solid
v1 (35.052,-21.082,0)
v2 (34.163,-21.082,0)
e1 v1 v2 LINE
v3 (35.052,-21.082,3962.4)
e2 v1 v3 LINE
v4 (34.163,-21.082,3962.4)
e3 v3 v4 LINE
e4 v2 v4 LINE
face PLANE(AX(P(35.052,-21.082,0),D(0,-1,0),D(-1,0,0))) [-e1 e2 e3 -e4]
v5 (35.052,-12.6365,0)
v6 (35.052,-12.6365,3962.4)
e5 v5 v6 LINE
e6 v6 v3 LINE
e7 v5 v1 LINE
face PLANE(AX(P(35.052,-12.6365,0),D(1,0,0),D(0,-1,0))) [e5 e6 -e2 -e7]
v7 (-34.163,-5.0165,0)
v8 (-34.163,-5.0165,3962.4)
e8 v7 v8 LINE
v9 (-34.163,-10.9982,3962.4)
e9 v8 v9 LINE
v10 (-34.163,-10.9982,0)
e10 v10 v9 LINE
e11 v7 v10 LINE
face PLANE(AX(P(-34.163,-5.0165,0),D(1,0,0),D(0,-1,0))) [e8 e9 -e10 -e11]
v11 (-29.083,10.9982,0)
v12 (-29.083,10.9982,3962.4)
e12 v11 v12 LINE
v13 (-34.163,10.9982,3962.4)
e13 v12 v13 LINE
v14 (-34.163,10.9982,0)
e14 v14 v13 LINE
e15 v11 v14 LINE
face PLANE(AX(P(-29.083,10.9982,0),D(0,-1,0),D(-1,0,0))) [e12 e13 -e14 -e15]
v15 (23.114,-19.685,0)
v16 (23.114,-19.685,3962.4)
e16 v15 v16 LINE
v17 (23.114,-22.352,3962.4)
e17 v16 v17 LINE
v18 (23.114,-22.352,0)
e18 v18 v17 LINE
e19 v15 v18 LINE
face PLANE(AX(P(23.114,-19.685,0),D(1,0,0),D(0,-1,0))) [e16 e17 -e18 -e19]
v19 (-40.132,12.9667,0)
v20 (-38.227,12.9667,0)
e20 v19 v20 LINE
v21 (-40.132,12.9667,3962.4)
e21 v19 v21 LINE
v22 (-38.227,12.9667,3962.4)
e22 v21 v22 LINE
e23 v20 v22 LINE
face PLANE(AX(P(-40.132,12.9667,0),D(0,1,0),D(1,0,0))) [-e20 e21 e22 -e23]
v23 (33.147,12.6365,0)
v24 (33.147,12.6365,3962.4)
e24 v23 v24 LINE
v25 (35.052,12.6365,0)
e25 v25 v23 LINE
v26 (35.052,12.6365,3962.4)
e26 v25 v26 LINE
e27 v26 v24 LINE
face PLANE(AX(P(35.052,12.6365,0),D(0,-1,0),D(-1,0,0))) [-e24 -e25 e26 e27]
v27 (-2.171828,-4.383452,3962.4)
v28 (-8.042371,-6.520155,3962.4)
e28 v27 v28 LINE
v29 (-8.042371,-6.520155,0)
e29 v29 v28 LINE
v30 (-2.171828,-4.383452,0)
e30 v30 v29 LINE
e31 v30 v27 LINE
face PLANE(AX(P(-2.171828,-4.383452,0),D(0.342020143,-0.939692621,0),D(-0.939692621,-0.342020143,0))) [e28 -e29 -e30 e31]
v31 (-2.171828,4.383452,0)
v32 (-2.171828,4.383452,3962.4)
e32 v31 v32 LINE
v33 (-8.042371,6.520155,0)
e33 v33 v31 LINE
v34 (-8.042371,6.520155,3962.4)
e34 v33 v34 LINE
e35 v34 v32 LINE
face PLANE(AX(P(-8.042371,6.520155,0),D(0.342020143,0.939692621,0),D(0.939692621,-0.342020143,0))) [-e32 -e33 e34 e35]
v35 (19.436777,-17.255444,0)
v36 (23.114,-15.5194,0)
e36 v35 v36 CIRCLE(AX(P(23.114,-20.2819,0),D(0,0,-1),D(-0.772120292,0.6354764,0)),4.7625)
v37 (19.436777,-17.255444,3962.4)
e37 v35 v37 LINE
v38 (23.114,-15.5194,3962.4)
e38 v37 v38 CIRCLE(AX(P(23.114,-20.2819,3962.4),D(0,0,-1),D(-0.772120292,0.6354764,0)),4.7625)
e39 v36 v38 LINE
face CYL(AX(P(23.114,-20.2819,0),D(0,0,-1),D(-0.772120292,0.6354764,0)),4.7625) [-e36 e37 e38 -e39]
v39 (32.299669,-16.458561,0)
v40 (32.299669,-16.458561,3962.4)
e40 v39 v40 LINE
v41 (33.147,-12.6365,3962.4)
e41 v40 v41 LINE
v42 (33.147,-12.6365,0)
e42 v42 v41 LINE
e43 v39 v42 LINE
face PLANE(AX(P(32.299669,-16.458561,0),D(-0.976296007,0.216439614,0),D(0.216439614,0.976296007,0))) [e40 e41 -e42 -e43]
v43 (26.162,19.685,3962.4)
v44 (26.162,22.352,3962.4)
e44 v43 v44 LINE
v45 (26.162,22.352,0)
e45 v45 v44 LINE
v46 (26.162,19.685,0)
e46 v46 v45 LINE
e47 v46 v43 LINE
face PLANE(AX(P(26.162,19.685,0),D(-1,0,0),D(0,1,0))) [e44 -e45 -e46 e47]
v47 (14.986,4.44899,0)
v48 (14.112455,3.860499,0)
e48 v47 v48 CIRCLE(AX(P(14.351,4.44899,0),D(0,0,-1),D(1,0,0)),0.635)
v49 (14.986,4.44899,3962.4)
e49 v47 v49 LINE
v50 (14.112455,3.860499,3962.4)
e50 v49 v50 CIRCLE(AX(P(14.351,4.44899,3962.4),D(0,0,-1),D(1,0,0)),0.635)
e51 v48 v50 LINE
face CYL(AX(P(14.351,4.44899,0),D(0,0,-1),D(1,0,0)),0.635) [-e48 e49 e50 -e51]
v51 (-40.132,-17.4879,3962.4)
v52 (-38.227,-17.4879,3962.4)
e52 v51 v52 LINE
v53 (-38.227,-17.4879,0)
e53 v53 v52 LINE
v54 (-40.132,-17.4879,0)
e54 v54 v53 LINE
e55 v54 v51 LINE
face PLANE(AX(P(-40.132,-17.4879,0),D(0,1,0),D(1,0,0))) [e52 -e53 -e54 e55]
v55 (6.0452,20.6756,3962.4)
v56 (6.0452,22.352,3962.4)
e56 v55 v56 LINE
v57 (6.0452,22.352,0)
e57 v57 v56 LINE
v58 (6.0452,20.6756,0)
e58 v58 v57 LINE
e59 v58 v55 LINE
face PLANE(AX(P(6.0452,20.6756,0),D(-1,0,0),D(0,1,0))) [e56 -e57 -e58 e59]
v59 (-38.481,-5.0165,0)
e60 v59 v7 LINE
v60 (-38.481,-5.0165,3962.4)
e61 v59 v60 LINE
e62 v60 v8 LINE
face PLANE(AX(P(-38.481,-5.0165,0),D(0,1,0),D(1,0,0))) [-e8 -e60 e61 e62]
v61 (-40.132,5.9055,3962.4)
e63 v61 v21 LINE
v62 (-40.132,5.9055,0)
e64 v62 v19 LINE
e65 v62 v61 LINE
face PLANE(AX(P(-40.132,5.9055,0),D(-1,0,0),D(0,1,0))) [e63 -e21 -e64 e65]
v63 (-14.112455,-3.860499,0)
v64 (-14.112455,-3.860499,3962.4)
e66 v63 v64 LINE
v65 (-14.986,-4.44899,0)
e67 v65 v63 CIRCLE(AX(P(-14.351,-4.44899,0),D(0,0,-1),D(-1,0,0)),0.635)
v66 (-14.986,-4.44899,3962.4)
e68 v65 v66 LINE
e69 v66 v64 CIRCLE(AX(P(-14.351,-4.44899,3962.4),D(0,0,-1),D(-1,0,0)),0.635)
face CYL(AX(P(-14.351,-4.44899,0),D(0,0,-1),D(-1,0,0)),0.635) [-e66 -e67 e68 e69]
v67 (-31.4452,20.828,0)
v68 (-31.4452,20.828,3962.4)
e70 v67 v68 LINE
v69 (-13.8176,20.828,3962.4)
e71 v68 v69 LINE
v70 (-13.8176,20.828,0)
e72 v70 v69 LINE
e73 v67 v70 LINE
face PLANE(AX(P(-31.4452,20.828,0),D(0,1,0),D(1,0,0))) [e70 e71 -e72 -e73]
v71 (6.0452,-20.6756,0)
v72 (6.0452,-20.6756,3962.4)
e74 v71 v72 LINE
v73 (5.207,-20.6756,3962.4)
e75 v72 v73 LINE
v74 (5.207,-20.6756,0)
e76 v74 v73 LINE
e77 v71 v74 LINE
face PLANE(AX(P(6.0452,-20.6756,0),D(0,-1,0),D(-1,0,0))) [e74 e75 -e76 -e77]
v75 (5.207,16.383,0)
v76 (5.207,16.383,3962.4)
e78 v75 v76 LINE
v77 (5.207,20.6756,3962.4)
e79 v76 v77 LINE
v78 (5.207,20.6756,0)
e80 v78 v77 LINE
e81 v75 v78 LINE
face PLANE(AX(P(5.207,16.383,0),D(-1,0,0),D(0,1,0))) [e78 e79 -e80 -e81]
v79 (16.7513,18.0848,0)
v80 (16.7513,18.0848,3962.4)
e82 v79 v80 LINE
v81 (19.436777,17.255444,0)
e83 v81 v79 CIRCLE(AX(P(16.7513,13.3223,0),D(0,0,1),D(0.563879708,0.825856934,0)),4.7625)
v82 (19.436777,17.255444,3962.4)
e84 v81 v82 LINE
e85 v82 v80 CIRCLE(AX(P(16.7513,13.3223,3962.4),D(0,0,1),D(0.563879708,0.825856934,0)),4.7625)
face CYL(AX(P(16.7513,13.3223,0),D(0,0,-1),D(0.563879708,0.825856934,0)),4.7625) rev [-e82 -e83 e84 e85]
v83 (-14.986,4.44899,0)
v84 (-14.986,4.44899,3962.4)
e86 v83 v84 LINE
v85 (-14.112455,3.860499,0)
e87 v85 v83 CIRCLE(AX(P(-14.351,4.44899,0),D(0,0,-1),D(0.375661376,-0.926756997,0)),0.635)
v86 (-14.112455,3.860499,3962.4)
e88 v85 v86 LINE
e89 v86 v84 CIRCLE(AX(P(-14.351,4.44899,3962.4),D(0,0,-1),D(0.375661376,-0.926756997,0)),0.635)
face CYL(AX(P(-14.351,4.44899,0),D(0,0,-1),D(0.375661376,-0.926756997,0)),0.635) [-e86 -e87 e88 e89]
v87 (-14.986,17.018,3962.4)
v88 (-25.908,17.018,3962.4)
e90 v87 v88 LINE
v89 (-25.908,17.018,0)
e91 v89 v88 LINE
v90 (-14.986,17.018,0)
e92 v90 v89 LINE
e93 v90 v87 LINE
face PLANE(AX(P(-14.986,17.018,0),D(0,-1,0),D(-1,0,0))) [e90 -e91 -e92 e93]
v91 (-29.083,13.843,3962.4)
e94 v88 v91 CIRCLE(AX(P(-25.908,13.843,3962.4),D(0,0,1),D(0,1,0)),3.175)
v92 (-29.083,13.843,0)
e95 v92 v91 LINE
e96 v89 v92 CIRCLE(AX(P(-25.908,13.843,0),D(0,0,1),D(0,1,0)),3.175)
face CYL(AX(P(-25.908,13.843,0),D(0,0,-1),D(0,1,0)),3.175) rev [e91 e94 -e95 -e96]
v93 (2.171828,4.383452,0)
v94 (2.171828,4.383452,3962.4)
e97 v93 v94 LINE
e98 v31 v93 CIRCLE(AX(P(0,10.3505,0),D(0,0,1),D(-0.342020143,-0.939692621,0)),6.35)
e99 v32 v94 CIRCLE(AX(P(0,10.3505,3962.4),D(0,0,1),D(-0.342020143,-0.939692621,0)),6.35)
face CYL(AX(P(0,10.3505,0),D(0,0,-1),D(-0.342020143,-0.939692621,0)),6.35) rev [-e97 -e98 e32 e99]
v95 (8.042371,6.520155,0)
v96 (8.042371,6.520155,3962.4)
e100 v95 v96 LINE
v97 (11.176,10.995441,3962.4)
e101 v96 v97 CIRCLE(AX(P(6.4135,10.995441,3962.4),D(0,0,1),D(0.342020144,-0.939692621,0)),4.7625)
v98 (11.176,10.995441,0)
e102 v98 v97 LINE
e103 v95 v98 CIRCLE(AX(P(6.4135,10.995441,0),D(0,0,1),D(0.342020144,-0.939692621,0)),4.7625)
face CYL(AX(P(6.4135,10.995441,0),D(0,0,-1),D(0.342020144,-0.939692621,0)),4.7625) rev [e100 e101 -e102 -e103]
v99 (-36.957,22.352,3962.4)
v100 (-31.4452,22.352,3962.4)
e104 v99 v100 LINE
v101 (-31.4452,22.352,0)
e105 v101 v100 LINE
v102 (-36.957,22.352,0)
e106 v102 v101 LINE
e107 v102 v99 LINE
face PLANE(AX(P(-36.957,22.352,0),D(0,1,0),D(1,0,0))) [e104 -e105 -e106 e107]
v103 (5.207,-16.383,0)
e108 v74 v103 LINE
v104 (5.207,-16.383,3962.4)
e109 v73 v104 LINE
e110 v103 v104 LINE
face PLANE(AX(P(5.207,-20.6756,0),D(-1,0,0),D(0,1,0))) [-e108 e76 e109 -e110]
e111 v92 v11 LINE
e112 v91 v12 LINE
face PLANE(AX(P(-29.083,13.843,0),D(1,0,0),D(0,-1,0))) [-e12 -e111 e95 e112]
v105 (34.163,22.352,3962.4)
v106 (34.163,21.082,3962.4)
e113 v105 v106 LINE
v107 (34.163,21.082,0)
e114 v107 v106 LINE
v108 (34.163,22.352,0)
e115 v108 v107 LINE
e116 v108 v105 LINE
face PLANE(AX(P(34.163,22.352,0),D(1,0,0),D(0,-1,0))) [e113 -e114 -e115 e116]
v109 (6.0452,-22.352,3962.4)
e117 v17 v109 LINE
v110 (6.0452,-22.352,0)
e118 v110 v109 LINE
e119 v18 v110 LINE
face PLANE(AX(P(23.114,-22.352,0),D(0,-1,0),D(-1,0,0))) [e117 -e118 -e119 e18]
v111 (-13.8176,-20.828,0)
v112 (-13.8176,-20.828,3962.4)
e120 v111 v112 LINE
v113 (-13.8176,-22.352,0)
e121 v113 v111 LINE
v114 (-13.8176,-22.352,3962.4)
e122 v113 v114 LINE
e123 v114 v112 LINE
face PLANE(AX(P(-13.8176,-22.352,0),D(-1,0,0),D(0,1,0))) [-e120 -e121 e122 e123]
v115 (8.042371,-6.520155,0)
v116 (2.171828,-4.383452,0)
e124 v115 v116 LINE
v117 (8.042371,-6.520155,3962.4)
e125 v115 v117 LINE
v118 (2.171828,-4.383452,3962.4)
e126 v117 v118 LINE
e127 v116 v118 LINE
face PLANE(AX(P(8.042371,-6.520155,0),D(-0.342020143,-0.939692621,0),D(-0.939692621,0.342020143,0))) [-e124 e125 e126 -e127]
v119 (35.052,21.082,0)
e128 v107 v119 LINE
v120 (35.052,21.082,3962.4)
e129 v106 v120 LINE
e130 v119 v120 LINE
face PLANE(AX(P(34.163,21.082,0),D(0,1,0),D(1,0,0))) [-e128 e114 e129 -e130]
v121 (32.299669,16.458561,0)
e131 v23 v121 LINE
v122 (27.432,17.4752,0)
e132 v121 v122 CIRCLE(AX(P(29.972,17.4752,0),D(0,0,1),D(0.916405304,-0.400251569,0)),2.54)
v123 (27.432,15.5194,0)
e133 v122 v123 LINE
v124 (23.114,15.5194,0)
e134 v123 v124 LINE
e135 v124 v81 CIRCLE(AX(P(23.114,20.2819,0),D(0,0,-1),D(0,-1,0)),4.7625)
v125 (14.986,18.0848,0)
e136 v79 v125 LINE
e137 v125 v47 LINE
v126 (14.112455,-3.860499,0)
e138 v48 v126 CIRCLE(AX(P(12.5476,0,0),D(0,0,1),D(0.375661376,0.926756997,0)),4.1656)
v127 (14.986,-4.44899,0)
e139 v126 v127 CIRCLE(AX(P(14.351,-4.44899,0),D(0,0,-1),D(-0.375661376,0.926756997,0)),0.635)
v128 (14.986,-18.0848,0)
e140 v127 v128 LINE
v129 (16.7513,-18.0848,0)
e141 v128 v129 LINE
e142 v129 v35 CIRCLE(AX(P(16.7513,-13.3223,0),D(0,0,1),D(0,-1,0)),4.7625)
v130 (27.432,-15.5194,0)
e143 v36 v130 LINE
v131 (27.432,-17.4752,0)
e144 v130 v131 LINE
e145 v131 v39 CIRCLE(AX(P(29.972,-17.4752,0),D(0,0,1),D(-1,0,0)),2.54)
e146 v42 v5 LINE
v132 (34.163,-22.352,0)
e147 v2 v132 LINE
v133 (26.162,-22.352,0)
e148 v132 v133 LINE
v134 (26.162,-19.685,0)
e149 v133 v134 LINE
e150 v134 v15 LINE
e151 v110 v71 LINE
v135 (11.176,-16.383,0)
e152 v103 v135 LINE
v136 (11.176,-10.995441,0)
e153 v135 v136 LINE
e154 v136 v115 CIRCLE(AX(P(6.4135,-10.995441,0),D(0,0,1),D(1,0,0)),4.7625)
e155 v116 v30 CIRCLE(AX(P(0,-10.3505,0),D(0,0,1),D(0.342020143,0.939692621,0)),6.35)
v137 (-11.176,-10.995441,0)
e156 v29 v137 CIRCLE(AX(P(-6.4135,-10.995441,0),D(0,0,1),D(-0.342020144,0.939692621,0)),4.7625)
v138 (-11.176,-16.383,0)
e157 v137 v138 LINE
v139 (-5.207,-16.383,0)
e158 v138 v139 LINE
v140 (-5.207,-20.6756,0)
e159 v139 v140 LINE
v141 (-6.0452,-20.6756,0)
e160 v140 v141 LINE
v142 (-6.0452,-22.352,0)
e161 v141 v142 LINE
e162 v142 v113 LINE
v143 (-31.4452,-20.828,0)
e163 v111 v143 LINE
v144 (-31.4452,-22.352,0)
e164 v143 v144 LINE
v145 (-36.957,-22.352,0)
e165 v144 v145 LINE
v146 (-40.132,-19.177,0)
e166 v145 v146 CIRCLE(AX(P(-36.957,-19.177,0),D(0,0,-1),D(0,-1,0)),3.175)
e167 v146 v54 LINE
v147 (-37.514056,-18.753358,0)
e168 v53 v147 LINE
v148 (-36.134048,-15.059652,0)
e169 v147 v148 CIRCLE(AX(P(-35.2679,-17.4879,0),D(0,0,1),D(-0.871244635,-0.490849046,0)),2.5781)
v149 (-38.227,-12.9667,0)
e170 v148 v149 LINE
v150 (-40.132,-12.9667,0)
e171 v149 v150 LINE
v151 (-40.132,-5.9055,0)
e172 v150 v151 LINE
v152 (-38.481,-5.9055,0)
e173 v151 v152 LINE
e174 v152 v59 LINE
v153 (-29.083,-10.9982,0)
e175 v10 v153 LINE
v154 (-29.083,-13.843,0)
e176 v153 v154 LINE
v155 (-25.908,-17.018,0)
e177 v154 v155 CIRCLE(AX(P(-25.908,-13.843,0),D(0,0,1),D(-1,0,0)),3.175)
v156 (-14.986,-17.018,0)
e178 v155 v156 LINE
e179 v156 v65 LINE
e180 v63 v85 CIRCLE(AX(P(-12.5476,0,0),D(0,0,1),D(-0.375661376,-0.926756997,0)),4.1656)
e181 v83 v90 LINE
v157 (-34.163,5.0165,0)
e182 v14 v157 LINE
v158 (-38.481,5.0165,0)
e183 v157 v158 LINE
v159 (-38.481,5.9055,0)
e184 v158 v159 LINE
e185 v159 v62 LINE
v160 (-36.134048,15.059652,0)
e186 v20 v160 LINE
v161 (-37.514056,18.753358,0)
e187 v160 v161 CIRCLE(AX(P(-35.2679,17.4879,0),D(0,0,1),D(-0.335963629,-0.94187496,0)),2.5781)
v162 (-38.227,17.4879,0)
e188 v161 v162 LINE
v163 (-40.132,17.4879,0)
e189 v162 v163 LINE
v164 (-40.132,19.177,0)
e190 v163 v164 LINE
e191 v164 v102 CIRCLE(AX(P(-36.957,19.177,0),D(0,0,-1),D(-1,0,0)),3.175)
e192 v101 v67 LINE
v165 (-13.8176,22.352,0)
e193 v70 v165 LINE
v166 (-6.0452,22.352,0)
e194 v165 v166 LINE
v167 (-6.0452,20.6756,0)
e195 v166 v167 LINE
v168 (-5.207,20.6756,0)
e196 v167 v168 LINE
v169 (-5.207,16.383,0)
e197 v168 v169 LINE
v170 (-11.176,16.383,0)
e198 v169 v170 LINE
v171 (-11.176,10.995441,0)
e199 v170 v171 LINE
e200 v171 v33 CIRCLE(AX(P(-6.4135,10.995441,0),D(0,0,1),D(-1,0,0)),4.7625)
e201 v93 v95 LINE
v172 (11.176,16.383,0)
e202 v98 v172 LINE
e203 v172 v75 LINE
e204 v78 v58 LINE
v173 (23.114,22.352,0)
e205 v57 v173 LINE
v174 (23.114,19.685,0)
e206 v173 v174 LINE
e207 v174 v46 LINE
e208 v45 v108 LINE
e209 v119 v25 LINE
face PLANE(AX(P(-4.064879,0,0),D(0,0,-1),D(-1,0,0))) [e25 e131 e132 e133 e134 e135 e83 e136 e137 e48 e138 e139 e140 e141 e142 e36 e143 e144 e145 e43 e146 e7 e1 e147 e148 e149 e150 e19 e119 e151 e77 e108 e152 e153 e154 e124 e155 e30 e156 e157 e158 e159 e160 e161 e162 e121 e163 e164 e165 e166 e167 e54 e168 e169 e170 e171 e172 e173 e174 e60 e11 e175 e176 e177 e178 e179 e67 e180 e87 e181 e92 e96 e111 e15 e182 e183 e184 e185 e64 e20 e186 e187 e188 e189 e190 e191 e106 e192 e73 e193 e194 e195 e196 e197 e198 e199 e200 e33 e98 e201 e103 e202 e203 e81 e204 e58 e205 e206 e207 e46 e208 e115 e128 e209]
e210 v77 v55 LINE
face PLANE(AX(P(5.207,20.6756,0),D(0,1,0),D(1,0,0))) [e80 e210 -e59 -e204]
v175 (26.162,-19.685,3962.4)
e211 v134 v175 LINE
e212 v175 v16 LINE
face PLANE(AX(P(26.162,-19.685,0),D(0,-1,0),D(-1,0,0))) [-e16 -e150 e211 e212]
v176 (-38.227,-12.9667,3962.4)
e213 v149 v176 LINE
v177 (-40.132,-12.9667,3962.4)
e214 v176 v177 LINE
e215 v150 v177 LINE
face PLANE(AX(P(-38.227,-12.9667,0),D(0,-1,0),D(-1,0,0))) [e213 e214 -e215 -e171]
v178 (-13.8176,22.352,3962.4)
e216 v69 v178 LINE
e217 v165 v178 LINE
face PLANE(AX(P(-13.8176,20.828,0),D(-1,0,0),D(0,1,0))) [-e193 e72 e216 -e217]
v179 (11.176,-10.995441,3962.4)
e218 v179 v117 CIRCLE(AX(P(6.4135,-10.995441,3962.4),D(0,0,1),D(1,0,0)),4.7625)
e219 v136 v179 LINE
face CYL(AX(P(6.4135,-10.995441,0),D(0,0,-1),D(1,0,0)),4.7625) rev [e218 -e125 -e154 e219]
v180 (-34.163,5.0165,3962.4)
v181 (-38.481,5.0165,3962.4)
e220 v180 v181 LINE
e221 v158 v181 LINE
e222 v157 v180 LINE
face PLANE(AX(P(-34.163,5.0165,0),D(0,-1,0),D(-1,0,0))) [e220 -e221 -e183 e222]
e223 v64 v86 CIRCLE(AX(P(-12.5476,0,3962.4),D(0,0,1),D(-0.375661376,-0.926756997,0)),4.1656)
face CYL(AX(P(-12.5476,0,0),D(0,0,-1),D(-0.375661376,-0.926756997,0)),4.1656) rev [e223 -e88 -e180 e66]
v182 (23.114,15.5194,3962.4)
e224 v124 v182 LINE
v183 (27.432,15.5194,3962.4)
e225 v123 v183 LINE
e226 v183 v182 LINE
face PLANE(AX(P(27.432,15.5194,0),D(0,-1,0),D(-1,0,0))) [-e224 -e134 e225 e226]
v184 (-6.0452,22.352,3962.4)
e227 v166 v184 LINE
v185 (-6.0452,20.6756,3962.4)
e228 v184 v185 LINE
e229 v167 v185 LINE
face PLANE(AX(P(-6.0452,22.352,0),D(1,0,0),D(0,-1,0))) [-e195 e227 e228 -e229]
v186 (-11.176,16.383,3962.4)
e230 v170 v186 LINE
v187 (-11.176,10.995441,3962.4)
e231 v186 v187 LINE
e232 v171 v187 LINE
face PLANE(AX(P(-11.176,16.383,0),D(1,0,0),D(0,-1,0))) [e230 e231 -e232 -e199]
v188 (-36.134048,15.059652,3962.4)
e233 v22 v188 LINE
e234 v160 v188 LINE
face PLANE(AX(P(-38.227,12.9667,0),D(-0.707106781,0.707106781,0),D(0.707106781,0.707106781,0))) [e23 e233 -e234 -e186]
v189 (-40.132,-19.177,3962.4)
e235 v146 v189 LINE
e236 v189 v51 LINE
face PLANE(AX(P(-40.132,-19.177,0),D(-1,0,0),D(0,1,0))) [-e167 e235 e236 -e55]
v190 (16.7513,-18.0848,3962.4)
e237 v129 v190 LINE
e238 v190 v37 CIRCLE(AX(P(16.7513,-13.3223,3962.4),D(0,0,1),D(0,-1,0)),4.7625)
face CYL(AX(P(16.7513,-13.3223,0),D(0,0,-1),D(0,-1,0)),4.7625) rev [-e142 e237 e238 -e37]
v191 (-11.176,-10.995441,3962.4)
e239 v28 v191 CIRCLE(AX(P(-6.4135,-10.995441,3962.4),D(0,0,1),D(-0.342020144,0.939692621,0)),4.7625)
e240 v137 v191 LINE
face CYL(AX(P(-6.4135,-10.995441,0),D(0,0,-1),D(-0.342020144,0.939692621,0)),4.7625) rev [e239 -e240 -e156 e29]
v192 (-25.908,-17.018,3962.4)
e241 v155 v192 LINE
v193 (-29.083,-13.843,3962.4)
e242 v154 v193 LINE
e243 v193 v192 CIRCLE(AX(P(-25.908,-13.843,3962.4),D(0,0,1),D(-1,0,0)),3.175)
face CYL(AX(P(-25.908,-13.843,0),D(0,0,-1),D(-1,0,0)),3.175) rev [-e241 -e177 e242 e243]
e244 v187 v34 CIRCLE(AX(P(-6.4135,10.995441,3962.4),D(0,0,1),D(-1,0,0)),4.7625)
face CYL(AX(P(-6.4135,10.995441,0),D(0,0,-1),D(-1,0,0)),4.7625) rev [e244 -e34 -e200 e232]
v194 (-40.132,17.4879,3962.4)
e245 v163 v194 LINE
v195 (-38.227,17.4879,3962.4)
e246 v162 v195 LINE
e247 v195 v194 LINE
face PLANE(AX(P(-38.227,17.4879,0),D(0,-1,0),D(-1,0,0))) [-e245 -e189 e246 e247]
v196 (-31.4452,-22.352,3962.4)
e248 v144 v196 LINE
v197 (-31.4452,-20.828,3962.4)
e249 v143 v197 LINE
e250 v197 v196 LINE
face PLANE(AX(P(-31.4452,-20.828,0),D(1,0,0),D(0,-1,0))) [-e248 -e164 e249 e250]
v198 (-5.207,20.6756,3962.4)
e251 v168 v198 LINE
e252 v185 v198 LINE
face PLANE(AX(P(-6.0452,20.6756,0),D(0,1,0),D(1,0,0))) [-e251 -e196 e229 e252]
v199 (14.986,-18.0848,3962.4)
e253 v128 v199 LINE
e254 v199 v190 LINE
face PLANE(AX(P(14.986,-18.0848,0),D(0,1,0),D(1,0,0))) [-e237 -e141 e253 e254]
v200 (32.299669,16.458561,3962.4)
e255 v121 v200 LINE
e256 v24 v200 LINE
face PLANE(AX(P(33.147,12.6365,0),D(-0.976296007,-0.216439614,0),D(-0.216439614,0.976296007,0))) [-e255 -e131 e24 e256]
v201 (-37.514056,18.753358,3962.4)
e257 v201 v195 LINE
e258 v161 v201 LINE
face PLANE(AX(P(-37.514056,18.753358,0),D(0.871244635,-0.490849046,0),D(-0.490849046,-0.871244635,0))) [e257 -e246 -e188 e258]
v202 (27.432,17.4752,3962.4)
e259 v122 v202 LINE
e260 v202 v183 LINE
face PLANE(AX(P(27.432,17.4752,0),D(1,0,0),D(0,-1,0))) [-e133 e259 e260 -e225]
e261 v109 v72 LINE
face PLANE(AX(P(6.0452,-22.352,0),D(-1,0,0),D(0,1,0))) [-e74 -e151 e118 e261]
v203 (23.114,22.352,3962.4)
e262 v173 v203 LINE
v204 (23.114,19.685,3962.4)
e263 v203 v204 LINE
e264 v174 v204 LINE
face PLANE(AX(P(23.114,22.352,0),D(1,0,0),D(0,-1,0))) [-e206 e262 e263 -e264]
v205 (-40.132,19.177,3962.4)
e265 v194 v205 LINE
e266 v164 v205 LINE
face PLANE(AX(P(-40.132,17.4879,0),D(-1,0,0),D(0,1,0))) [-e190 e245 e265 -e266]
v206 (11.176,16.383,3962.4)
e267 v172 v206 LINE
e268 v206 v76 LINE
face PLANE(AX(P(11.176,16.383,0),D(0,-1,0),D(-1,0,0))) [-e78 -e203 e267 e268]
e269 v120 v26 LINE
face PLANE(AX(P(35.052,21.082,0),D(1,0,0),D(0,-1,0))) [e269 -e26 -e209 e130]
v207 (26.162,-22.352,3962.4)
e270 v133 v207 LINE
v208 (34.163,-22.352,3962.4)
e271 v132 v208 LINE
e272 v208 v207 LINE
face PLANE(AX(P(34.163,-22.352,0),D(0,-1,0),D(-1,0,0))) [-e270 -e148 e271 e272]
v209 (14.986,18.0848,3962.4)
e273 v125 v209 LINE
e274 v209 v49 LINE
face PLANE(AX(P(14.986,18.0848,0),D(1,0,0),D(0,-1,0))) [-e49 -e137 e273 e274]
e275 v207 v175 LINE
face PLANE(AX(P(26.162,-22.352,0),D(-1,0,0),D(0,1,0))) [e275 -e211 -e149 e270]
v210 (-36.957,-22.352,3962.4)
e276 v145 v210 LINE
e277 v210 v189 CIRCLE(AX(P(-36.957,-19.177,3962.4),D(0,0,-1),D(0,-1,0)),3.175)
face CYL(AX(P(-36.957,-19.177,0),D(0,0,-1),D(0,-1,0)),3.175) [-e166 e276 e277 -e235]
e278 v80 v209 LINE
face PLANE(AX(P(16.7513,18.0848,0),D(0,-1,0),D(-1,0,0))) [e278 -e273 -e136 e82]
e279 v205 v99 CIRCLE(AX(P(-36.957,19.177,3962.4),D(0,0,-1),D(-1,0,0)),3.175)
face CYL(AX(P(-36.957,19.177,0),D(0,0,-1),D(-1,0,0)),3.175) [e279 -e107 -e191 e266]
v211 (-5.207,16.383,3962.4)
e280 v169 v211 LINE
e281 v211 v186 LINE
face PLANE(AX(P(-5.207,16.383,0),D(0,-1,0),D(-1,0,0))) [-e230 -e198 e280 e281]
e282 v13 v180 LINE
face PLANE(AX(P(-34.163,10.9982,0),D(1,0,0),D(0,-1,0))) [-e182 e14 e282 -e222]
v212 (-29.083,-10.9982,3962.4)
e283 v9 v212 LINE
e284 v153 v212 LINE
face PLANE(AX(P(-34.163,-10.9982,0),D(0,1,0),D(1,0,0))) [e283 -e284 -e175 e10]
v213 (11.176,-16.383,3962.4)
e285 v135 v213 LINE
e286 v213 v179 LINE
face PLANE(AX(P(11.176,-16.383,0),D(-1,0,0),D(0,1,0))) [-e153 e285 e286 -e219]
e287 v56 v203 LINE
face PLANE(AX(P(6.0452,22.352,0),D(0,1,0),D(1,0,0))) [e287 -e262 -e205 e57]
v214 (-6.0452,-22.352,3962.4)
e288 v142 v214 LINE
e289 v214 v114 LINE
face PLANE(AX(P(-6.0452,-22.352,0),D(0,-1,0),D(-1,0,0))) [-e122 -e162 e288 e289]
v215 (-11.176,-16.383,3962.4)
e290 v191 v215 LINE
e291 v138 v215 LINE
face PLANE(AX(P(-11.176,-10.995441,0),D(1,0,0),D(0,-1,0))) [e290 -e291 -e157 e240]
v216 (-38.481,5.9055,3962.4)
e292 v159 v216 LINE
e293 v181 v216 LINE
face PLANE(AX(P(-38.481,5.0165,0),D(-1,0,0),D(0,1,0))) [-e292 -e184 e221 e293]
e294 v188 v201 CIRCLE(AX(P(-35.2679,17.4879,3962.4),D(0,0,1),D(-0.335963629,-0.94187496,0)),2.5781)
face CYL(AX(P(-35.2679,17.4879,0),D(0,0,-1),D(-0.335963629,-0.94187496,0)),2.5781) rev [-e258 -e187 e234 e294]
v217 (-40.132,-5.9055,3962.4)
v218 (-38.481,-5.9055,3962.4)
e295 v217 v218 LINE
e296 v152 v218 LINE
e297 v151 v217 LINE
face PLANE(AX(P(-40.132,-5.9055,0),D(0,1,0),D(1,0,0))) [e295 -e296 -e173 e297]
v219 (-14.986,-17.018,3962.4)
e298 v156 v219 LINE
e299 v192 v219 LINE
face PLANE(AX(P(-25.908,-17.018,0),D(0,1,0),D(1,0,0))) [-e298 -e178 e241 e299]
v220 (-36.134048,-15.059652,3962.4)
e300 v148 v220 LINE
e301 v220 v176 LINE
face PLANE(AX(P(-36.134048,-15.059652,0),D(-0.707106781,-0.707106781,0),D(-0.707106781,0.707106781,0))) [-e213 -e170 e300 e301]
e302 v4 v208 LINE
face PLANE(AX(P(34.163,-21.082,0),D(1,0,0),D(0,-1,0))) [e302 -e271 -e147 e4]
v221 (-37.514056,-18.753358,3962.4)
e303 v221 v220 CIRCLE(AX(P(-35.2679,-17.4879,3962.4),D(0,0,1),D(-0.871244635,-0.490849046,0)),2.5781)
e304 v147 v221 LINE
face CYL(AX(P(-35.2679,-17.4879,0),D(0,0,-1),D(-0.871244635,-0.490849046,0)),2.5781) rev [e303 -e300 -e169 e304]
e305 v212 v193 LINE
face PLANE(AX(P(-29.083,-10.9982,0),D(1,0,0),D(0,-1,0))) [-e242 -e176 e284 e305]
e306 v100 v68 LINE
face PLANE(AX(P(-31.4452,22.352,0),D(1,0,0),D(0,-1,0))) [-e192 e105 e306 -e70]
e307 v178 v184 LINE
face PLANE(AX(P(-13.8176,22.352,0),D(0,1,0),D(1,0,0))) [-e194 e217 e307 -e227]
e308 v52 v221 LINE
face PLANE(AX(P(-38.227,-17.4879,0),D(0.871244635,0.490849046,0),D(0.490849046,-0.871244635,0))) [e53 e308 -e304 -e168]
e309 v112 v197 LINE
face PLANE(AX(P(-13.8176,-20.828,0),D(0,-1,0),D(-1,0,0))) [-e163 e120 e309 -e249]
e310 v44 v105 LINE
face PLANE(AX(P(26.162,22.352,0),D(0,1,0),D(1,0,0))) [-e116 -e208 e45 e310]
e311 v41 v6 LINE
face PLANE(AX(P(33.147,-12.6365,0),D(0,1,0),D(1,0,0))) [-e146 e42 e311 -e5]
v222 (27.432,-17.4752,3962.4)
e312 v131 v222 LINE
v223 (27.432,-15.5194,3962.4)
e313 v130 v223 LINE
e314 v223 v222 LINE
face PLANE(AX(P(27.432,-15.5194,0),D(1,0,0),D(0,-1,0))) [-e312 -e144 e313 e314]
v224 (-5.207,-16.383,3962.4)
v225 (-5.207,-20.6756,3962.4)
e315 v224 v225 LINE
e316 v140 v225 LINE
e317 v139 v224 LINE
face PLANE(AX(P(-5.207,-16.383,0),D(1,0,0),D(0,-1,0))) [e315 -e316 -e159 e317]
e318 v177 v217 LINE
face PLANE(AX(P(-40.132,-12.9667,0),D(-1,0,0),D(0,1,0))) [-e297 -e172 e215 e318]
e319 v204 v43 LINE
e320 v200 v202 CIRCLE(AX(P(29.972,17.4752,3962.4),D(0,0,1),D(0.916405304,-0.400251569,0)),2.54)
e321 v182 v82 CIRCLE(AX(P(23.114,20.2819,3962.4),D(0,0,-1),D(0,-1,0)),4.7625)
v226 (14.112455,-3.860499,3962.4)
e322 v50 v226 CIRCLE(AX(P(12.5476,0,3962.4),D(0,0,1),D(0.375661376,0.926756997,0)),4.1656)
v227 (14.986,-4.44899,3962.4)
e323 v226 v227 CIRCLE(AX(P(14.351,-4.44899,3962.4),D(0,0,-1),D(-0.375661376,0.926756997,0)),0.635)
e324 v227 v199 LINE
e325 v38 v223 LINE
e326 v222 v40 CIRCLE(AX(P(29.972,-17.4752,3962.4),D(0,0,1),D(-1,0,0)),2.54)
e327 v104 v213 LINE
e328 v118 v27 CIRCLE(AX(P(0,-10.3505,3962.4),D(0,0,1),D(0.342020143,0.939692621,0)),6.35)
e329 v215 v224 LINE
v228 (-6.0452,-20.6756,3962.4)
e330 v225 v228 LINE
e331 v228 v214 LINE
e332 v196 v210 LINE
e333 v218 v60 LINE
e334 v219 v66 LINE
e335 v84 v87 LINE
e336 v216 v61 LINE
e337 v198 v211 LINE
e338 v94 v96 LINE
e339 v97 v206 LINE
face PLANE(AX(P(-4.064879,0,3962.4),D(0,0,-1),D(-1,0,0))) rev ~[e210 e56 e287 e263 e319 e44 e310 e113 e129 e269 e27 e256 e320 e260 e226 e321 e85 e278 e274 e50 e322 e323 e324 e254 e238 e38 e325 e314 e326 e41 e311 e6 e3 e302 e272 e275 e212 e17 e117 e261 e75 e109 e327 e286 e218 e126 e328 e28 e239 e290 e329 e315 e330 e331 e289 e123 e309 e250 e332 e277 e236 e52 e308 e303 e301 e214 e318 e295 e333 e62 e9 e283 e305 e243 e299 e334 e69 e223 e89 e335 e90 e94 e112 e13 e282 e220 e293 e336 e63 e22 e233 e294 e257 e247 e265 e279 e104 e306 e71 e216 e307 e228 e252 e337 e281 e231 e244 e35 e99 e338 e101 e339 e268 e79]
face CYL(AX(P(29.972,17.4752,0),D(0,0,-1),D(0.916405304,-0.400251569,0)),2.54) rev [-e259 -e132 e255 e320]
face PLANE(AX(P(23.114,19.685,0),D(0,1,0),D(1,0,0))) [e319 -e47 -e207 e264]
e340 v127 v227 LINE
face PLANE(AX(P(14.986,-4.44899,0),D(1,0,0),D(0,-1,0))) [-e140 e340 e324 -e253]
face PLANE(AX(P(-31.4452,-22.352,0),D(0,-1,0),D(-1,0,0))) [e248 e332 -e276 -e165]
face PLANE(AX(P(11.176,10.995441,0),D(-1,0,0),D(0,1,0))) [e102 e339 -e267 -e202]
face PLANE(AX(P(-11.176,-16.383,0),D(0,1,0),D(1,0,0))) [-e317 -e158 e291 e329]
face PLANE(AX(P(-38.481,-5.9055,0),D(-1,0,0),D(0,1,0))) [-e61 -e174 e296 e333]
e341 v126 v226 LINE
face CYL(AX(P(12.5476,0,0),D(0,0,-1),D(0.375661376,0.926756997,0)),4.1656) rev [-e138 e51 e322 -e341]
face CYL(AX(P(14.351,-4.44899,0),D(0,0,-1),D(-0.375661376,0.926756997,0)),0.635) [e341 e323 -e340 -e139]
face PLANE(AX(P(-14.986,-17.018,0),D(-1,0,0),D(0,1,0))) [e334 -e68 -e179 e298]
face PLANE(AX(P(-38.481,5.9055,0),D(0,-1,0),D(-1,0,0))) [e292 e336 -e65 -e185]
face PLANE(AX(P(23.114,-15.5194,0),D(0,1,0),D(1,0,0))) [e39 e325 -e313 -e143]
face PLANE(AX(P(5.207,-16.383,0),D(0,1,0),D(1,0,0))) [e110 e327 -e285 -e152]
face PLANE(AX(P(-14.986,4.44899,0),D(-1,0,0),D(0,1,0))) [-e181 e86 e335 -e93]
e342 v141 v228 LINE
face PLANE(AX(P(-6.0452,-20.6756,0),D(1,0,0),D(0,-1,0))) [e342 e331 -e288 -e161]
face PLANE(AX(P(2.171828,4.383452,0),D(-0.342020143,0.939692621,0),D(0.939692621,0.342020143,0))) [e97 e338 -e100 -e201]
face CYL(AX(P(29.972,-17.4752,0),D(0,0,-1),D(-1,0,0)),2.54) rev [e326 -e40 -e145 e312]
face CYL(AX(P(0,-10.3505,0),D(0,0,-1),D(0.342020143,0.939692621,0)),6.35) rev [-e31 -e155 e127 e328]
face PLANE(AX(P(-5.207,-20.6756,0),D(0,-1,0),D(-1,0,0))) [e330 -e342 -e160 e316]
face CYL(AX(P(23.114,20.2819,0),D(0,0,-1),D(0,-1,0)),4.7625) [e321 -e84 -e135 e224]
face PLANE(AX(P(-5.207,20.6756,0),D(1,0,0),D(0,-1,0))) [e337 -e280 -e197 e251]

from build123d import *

# Parameters (mm, degrees)
EXTRUDE1_DEPTH = 3962.4


with BuildPart() as part:
    # Sketch1 → Extrude1 (new body)
    with BuildSketch(Plane.XY):
        with BuildLine():
            Line((-8.042370933, 6.520154777), (-2.17182791, 4.383451858))
            ThreePointArc((-2.17182791, 4.383451858), (0, 4.0005), (2.17182791, 4.383451858))
            Line((2.17182791, 4.383451858), (8.042370933, 6.520154777))
            ThreePointArc((8.042370933, 6.520154777), (10.314711611, 8.263783106), (11.176, 10.995440884))
            Line((11.176, 10.995440884), (11.176, 16.383))
            Line((11.176, 16.383), (5.207, 16.383))
            Line((5.207, 16.383), (5.207, 20.6756))
            Line((5.207, 20.6756), (6.0452, 20.6756))
            Line((6.0452, 20.6756), (6.0452, 22.352))
            Line((6.0452, 22.352), (23.114, 22.352))
            Line((23.114, 22.352), (23.114, 19.685))
            Line((23.114, 19.685), (26.162, 19.685))
            Line((26.162, 19.685), (26.162, 22.352))
            Line((26.162, 22.352), (34.163, 22.352))
            Line((34.163, 22.352), (34.163, 21.082))
            Line((34.163, 21.082), (35.052, 21.082))
            Line((35.052, 21.082), (35.052, 12.6365))
            Line((35.052, 12.6365), (33.147, 12.6365))
            Line((33.147, 12.6365), (32.299669473, 16.458561015))
            ThreePointArc((32.299669473, 16.458561015), (30.491287752, 19.961550786), (27.432, 17.4752))
            Line((27.432, 17.4752), (27.432, 15.5194))
            Line((27.432, 15.5194), (23.114, 15.5194))
            ThreePointArc((23.114, 15.5194), (21.080787287, 15.97522468), (19.436777108, 17.255443647))
            ThreePointArc((19.436777108, 17.255443647), (18.156613066, 17.872739697), (16.7513, 18.0848))
            Line((16.7513, 18.0848), (14.986, 18.0848))
            Line((14.986, 18.0848), (14.986, 4.448989638))
            ThreePointArc((14.986, 4.448989638), (14.705787924, 3.922348841), (14.112455026, 3.860498945))
            ThreePointArc((14.112455026, 3.860498945), (8.382, 0), (14.112455026, -3.860498945))
            ThreePointArc((14.112455026, -3.860498945), (14.705787924, -3.922348841), (14.986, -4.448989638))
            Line((14.986, -4.448989638), (14.986, -18.0848))
            Line((14.986, -18.0848), (16.7513, -18.0848))
            ThreePointArc((16.7513, -18.0848), (18.156613066, -17.872739697), (19.436777108, -17.255443647))
            ThreePointArc((19.436777108, -17.255443647), (21.080787287, -15.97522468), (23.114, -15.5194))
            Line((23.114, -15.5194), (27.432, -15.5194))
            Line((27.432, -15.5194), (27.432, -17.4752))
            ThreePointArc((27.432, -17.4752), (30.491287752, -19.961550786), (32.299669473, -16.458561015))
            Line((32.299669473, -16.458561015), (33.147, -12.6365))
            Line((33.147, -12.6365), (35.052, -12.6365))
            Line((35.052, -12.6365), (35.052, -21.082))
            Line((35.052, -21.082), (34.163, -21.082))
            Line((34.163, -21.082), (34.163, -22.352))
            Line((34.163, -22.352), (26.162, -22.352))
            Line((26.162, -22.352), (26.162, -19.685))
            Line((26.162, -19.685), (23.114, -19.685))
            Line((23.114, -19.685), (23.114, -22.352))
            Line((23.114, -22.352), (6.0452, -22.352))
            Line((6.0452, -22.352), (6.0452, -20.6756))
            Line((6.0452, -20.6756), (5.207, -20.6756))
            Line((5.207, -20.6756), (5.207, -16.383))
            Line((5.207, -16.383), (11.176, -16.383))
            Line((11.176, -16.383), (11.176, -10.995440884))
            ThreePointArc((11.176, -10.995440884), (10.314711611, -8.263783106), (8.042370933, -6.520154777))
            Line((8.042370933, -6.520154777), (2.17182791, -4.383451858))
            ThreePointArc((2.17182791, -4.383451858), (0, -4.0005), (-2.17182791, -4.383451858))
            Line((-2.17182791, -4.383451858), (-8.042370933, -6.520154777))
            ThreePointArc((-8.042370933, -6.520154777), (-10.314711611, -8.263783106), (-11.176, -10.995440884))
            Line((-11.176, -10.995440884), (-11.176, -16.383))
            Line((-11.176, -16.383), (-5.207, -16.383))
            Line((-5.207, -16.383), (-5.207, -20.6756))
            Line((-5.207, -20.6756), (-6.0452, -20.6756))
            Line((-6.0452, -20.6756), (-6.0452, -22.352))
            Line((-6.0452, -22.352), (-13.8176, -22.352))
            Line((-13.8176, -22.352), (-13.8176, -20.828))
            Line((-13.8176, -20.828), (-31.4452, -20.828))
            Line((-31.4452, -20.828), (-31.4452, -22.352))
            Line((-31.4452, -22.352), (-36.957, -22.352))
            ThreePointArc((-36.957, -22.352), (-39.20206403, -21.42206403), (-40.132, -19.177))
            Line((-40.132, -19.177), (-40.132, -17.4879))
            Line((-40.132, -17.4879), (-38.227, -17.4879))
            Line((-38.227, -17.4879), (-37.514055794, -18.753357925))
            ThreePointArc((-37.514055794, -18.753357925), (-32.852848443, -18.390189081), (-36.134047833, -15.059652167))
            Line((-36.134047833, -15.059652167), (-38.227, -12.9667))
            Line((-38.227, -12.9667), (-40.132, -12.9667))
            Line((-40.132, -12.9667), (-40.132, -5.9055))
            Line((-40.132, -5.9055), (-38.481, -5.9055))
            Line((-38.481, -5.9055), (-38.481, -5.0165))
            Line((-38.481, -5.0165), (-34.163, -5.0165))
            Line((-34.163, -5.0165), (-34.163, -10.9982))
            Line((-34.163, -10.9982), (-29.083, -10.9982))
            Line((-29.083, -10.9982), (-29.083, -13.843))
            ThreePointArc((-29.083, -13.843), (-28.15306403, -16.08806403), (-25.908, -17.018))
            Line((-25.908, -17.018), (-14.986, -17.018))
            Line((-14.986, -17.018), (-14.986, -4.448989638))
            ThreePointArc((-14.986, -4.448989638), (-14.705787924, -3.922348841), (-14.112455026, -3.860498945))
            ThreePointArc((-14.112455026, -3.860498945), (-8.382, 0), (-14.112455026, 3.860498945))
            ThreePointArc((-14.112455026, 3.860498945), (-14.705787924, 3.922348841), (-14.986, 4.448989638))
            Line((-14.986, 4.448989638), (-14.986, 17.018))
            Line((-14.986, 17.018), (-25.908, 17.018))
            ThreePointArc((-25.908, 17.018), (-28.15306403, 16.08806403), (-29.083, 13.843))
            Line((-29.083, 13.843), (-29.083, 10.9982))
            Line((-29.083, 10.9982), (-34.163, 10.9982))
            Line((-34.163, 10.9982), (-34.163, 5.0165))
            Line((-34.163, 5.0165), (-38.481, 5.0165))
            Line((-38.481, 5.0165), (-38.481, 5.9055))
            Line((-38.481, 5.9055), (-40.132, 5.9055))
            Line((-40.132, 5.9055), (-40.132, 12.9667))
            Line((-40.132, 12.9667), (-38.227, 12.9667))
            Line((-38.227, 12.9667), (-36.134047833, 15.059652167))
            ThreePointArc((-36.134047833, 15.059652167), (-32.852848443, 18.390189081), (-37.514055794, 18.753357925))
            Line((-37.514055794, 18.753357925), (-38.227, 17.4879))
            Line((-38.227, 17.4879), (-40.132, 17.4879))
            Line((-40.132, 17.4879), (-40.132, 19.177))
            ThreePointArc((-40.132, 19.177), (-39.20206403, 21.42206403), (-36.957, 22.352))
            Line((-36.957, 22.352), (-31.4452, 22.352))
            Line((-31.4452, 22.352), (-31.4452, 20.828))
            Line((-31.4452, 20.828), (-13.8176, 20.828))
            Line((-13.8176, 20.828), (-13.8176, 22.352))
            Line((-13.8176, 22.352), (-6.0452, 22.352))
            Line((-6.0452, 22.352), (-6.0452, 20.6756))
            Line((-6.0452, 20.6756), (-5.207, 20.6756))
            Line((-5.207, 20.6756), (-5.207, 16.383))
            Line((-5.207, 16.383), (-11.176, 16.383))
            Line((-11.176, 16.383), (-11.176, 10.995440884))
            ThreePointArc((-11.176, 10.995440884), (-10.314711611, 8.263783106), (-8.042370933, 6.520154777))
        make_face()
    extrude(amount=EXTRUDE1_DEPTH)


solid = part.part
